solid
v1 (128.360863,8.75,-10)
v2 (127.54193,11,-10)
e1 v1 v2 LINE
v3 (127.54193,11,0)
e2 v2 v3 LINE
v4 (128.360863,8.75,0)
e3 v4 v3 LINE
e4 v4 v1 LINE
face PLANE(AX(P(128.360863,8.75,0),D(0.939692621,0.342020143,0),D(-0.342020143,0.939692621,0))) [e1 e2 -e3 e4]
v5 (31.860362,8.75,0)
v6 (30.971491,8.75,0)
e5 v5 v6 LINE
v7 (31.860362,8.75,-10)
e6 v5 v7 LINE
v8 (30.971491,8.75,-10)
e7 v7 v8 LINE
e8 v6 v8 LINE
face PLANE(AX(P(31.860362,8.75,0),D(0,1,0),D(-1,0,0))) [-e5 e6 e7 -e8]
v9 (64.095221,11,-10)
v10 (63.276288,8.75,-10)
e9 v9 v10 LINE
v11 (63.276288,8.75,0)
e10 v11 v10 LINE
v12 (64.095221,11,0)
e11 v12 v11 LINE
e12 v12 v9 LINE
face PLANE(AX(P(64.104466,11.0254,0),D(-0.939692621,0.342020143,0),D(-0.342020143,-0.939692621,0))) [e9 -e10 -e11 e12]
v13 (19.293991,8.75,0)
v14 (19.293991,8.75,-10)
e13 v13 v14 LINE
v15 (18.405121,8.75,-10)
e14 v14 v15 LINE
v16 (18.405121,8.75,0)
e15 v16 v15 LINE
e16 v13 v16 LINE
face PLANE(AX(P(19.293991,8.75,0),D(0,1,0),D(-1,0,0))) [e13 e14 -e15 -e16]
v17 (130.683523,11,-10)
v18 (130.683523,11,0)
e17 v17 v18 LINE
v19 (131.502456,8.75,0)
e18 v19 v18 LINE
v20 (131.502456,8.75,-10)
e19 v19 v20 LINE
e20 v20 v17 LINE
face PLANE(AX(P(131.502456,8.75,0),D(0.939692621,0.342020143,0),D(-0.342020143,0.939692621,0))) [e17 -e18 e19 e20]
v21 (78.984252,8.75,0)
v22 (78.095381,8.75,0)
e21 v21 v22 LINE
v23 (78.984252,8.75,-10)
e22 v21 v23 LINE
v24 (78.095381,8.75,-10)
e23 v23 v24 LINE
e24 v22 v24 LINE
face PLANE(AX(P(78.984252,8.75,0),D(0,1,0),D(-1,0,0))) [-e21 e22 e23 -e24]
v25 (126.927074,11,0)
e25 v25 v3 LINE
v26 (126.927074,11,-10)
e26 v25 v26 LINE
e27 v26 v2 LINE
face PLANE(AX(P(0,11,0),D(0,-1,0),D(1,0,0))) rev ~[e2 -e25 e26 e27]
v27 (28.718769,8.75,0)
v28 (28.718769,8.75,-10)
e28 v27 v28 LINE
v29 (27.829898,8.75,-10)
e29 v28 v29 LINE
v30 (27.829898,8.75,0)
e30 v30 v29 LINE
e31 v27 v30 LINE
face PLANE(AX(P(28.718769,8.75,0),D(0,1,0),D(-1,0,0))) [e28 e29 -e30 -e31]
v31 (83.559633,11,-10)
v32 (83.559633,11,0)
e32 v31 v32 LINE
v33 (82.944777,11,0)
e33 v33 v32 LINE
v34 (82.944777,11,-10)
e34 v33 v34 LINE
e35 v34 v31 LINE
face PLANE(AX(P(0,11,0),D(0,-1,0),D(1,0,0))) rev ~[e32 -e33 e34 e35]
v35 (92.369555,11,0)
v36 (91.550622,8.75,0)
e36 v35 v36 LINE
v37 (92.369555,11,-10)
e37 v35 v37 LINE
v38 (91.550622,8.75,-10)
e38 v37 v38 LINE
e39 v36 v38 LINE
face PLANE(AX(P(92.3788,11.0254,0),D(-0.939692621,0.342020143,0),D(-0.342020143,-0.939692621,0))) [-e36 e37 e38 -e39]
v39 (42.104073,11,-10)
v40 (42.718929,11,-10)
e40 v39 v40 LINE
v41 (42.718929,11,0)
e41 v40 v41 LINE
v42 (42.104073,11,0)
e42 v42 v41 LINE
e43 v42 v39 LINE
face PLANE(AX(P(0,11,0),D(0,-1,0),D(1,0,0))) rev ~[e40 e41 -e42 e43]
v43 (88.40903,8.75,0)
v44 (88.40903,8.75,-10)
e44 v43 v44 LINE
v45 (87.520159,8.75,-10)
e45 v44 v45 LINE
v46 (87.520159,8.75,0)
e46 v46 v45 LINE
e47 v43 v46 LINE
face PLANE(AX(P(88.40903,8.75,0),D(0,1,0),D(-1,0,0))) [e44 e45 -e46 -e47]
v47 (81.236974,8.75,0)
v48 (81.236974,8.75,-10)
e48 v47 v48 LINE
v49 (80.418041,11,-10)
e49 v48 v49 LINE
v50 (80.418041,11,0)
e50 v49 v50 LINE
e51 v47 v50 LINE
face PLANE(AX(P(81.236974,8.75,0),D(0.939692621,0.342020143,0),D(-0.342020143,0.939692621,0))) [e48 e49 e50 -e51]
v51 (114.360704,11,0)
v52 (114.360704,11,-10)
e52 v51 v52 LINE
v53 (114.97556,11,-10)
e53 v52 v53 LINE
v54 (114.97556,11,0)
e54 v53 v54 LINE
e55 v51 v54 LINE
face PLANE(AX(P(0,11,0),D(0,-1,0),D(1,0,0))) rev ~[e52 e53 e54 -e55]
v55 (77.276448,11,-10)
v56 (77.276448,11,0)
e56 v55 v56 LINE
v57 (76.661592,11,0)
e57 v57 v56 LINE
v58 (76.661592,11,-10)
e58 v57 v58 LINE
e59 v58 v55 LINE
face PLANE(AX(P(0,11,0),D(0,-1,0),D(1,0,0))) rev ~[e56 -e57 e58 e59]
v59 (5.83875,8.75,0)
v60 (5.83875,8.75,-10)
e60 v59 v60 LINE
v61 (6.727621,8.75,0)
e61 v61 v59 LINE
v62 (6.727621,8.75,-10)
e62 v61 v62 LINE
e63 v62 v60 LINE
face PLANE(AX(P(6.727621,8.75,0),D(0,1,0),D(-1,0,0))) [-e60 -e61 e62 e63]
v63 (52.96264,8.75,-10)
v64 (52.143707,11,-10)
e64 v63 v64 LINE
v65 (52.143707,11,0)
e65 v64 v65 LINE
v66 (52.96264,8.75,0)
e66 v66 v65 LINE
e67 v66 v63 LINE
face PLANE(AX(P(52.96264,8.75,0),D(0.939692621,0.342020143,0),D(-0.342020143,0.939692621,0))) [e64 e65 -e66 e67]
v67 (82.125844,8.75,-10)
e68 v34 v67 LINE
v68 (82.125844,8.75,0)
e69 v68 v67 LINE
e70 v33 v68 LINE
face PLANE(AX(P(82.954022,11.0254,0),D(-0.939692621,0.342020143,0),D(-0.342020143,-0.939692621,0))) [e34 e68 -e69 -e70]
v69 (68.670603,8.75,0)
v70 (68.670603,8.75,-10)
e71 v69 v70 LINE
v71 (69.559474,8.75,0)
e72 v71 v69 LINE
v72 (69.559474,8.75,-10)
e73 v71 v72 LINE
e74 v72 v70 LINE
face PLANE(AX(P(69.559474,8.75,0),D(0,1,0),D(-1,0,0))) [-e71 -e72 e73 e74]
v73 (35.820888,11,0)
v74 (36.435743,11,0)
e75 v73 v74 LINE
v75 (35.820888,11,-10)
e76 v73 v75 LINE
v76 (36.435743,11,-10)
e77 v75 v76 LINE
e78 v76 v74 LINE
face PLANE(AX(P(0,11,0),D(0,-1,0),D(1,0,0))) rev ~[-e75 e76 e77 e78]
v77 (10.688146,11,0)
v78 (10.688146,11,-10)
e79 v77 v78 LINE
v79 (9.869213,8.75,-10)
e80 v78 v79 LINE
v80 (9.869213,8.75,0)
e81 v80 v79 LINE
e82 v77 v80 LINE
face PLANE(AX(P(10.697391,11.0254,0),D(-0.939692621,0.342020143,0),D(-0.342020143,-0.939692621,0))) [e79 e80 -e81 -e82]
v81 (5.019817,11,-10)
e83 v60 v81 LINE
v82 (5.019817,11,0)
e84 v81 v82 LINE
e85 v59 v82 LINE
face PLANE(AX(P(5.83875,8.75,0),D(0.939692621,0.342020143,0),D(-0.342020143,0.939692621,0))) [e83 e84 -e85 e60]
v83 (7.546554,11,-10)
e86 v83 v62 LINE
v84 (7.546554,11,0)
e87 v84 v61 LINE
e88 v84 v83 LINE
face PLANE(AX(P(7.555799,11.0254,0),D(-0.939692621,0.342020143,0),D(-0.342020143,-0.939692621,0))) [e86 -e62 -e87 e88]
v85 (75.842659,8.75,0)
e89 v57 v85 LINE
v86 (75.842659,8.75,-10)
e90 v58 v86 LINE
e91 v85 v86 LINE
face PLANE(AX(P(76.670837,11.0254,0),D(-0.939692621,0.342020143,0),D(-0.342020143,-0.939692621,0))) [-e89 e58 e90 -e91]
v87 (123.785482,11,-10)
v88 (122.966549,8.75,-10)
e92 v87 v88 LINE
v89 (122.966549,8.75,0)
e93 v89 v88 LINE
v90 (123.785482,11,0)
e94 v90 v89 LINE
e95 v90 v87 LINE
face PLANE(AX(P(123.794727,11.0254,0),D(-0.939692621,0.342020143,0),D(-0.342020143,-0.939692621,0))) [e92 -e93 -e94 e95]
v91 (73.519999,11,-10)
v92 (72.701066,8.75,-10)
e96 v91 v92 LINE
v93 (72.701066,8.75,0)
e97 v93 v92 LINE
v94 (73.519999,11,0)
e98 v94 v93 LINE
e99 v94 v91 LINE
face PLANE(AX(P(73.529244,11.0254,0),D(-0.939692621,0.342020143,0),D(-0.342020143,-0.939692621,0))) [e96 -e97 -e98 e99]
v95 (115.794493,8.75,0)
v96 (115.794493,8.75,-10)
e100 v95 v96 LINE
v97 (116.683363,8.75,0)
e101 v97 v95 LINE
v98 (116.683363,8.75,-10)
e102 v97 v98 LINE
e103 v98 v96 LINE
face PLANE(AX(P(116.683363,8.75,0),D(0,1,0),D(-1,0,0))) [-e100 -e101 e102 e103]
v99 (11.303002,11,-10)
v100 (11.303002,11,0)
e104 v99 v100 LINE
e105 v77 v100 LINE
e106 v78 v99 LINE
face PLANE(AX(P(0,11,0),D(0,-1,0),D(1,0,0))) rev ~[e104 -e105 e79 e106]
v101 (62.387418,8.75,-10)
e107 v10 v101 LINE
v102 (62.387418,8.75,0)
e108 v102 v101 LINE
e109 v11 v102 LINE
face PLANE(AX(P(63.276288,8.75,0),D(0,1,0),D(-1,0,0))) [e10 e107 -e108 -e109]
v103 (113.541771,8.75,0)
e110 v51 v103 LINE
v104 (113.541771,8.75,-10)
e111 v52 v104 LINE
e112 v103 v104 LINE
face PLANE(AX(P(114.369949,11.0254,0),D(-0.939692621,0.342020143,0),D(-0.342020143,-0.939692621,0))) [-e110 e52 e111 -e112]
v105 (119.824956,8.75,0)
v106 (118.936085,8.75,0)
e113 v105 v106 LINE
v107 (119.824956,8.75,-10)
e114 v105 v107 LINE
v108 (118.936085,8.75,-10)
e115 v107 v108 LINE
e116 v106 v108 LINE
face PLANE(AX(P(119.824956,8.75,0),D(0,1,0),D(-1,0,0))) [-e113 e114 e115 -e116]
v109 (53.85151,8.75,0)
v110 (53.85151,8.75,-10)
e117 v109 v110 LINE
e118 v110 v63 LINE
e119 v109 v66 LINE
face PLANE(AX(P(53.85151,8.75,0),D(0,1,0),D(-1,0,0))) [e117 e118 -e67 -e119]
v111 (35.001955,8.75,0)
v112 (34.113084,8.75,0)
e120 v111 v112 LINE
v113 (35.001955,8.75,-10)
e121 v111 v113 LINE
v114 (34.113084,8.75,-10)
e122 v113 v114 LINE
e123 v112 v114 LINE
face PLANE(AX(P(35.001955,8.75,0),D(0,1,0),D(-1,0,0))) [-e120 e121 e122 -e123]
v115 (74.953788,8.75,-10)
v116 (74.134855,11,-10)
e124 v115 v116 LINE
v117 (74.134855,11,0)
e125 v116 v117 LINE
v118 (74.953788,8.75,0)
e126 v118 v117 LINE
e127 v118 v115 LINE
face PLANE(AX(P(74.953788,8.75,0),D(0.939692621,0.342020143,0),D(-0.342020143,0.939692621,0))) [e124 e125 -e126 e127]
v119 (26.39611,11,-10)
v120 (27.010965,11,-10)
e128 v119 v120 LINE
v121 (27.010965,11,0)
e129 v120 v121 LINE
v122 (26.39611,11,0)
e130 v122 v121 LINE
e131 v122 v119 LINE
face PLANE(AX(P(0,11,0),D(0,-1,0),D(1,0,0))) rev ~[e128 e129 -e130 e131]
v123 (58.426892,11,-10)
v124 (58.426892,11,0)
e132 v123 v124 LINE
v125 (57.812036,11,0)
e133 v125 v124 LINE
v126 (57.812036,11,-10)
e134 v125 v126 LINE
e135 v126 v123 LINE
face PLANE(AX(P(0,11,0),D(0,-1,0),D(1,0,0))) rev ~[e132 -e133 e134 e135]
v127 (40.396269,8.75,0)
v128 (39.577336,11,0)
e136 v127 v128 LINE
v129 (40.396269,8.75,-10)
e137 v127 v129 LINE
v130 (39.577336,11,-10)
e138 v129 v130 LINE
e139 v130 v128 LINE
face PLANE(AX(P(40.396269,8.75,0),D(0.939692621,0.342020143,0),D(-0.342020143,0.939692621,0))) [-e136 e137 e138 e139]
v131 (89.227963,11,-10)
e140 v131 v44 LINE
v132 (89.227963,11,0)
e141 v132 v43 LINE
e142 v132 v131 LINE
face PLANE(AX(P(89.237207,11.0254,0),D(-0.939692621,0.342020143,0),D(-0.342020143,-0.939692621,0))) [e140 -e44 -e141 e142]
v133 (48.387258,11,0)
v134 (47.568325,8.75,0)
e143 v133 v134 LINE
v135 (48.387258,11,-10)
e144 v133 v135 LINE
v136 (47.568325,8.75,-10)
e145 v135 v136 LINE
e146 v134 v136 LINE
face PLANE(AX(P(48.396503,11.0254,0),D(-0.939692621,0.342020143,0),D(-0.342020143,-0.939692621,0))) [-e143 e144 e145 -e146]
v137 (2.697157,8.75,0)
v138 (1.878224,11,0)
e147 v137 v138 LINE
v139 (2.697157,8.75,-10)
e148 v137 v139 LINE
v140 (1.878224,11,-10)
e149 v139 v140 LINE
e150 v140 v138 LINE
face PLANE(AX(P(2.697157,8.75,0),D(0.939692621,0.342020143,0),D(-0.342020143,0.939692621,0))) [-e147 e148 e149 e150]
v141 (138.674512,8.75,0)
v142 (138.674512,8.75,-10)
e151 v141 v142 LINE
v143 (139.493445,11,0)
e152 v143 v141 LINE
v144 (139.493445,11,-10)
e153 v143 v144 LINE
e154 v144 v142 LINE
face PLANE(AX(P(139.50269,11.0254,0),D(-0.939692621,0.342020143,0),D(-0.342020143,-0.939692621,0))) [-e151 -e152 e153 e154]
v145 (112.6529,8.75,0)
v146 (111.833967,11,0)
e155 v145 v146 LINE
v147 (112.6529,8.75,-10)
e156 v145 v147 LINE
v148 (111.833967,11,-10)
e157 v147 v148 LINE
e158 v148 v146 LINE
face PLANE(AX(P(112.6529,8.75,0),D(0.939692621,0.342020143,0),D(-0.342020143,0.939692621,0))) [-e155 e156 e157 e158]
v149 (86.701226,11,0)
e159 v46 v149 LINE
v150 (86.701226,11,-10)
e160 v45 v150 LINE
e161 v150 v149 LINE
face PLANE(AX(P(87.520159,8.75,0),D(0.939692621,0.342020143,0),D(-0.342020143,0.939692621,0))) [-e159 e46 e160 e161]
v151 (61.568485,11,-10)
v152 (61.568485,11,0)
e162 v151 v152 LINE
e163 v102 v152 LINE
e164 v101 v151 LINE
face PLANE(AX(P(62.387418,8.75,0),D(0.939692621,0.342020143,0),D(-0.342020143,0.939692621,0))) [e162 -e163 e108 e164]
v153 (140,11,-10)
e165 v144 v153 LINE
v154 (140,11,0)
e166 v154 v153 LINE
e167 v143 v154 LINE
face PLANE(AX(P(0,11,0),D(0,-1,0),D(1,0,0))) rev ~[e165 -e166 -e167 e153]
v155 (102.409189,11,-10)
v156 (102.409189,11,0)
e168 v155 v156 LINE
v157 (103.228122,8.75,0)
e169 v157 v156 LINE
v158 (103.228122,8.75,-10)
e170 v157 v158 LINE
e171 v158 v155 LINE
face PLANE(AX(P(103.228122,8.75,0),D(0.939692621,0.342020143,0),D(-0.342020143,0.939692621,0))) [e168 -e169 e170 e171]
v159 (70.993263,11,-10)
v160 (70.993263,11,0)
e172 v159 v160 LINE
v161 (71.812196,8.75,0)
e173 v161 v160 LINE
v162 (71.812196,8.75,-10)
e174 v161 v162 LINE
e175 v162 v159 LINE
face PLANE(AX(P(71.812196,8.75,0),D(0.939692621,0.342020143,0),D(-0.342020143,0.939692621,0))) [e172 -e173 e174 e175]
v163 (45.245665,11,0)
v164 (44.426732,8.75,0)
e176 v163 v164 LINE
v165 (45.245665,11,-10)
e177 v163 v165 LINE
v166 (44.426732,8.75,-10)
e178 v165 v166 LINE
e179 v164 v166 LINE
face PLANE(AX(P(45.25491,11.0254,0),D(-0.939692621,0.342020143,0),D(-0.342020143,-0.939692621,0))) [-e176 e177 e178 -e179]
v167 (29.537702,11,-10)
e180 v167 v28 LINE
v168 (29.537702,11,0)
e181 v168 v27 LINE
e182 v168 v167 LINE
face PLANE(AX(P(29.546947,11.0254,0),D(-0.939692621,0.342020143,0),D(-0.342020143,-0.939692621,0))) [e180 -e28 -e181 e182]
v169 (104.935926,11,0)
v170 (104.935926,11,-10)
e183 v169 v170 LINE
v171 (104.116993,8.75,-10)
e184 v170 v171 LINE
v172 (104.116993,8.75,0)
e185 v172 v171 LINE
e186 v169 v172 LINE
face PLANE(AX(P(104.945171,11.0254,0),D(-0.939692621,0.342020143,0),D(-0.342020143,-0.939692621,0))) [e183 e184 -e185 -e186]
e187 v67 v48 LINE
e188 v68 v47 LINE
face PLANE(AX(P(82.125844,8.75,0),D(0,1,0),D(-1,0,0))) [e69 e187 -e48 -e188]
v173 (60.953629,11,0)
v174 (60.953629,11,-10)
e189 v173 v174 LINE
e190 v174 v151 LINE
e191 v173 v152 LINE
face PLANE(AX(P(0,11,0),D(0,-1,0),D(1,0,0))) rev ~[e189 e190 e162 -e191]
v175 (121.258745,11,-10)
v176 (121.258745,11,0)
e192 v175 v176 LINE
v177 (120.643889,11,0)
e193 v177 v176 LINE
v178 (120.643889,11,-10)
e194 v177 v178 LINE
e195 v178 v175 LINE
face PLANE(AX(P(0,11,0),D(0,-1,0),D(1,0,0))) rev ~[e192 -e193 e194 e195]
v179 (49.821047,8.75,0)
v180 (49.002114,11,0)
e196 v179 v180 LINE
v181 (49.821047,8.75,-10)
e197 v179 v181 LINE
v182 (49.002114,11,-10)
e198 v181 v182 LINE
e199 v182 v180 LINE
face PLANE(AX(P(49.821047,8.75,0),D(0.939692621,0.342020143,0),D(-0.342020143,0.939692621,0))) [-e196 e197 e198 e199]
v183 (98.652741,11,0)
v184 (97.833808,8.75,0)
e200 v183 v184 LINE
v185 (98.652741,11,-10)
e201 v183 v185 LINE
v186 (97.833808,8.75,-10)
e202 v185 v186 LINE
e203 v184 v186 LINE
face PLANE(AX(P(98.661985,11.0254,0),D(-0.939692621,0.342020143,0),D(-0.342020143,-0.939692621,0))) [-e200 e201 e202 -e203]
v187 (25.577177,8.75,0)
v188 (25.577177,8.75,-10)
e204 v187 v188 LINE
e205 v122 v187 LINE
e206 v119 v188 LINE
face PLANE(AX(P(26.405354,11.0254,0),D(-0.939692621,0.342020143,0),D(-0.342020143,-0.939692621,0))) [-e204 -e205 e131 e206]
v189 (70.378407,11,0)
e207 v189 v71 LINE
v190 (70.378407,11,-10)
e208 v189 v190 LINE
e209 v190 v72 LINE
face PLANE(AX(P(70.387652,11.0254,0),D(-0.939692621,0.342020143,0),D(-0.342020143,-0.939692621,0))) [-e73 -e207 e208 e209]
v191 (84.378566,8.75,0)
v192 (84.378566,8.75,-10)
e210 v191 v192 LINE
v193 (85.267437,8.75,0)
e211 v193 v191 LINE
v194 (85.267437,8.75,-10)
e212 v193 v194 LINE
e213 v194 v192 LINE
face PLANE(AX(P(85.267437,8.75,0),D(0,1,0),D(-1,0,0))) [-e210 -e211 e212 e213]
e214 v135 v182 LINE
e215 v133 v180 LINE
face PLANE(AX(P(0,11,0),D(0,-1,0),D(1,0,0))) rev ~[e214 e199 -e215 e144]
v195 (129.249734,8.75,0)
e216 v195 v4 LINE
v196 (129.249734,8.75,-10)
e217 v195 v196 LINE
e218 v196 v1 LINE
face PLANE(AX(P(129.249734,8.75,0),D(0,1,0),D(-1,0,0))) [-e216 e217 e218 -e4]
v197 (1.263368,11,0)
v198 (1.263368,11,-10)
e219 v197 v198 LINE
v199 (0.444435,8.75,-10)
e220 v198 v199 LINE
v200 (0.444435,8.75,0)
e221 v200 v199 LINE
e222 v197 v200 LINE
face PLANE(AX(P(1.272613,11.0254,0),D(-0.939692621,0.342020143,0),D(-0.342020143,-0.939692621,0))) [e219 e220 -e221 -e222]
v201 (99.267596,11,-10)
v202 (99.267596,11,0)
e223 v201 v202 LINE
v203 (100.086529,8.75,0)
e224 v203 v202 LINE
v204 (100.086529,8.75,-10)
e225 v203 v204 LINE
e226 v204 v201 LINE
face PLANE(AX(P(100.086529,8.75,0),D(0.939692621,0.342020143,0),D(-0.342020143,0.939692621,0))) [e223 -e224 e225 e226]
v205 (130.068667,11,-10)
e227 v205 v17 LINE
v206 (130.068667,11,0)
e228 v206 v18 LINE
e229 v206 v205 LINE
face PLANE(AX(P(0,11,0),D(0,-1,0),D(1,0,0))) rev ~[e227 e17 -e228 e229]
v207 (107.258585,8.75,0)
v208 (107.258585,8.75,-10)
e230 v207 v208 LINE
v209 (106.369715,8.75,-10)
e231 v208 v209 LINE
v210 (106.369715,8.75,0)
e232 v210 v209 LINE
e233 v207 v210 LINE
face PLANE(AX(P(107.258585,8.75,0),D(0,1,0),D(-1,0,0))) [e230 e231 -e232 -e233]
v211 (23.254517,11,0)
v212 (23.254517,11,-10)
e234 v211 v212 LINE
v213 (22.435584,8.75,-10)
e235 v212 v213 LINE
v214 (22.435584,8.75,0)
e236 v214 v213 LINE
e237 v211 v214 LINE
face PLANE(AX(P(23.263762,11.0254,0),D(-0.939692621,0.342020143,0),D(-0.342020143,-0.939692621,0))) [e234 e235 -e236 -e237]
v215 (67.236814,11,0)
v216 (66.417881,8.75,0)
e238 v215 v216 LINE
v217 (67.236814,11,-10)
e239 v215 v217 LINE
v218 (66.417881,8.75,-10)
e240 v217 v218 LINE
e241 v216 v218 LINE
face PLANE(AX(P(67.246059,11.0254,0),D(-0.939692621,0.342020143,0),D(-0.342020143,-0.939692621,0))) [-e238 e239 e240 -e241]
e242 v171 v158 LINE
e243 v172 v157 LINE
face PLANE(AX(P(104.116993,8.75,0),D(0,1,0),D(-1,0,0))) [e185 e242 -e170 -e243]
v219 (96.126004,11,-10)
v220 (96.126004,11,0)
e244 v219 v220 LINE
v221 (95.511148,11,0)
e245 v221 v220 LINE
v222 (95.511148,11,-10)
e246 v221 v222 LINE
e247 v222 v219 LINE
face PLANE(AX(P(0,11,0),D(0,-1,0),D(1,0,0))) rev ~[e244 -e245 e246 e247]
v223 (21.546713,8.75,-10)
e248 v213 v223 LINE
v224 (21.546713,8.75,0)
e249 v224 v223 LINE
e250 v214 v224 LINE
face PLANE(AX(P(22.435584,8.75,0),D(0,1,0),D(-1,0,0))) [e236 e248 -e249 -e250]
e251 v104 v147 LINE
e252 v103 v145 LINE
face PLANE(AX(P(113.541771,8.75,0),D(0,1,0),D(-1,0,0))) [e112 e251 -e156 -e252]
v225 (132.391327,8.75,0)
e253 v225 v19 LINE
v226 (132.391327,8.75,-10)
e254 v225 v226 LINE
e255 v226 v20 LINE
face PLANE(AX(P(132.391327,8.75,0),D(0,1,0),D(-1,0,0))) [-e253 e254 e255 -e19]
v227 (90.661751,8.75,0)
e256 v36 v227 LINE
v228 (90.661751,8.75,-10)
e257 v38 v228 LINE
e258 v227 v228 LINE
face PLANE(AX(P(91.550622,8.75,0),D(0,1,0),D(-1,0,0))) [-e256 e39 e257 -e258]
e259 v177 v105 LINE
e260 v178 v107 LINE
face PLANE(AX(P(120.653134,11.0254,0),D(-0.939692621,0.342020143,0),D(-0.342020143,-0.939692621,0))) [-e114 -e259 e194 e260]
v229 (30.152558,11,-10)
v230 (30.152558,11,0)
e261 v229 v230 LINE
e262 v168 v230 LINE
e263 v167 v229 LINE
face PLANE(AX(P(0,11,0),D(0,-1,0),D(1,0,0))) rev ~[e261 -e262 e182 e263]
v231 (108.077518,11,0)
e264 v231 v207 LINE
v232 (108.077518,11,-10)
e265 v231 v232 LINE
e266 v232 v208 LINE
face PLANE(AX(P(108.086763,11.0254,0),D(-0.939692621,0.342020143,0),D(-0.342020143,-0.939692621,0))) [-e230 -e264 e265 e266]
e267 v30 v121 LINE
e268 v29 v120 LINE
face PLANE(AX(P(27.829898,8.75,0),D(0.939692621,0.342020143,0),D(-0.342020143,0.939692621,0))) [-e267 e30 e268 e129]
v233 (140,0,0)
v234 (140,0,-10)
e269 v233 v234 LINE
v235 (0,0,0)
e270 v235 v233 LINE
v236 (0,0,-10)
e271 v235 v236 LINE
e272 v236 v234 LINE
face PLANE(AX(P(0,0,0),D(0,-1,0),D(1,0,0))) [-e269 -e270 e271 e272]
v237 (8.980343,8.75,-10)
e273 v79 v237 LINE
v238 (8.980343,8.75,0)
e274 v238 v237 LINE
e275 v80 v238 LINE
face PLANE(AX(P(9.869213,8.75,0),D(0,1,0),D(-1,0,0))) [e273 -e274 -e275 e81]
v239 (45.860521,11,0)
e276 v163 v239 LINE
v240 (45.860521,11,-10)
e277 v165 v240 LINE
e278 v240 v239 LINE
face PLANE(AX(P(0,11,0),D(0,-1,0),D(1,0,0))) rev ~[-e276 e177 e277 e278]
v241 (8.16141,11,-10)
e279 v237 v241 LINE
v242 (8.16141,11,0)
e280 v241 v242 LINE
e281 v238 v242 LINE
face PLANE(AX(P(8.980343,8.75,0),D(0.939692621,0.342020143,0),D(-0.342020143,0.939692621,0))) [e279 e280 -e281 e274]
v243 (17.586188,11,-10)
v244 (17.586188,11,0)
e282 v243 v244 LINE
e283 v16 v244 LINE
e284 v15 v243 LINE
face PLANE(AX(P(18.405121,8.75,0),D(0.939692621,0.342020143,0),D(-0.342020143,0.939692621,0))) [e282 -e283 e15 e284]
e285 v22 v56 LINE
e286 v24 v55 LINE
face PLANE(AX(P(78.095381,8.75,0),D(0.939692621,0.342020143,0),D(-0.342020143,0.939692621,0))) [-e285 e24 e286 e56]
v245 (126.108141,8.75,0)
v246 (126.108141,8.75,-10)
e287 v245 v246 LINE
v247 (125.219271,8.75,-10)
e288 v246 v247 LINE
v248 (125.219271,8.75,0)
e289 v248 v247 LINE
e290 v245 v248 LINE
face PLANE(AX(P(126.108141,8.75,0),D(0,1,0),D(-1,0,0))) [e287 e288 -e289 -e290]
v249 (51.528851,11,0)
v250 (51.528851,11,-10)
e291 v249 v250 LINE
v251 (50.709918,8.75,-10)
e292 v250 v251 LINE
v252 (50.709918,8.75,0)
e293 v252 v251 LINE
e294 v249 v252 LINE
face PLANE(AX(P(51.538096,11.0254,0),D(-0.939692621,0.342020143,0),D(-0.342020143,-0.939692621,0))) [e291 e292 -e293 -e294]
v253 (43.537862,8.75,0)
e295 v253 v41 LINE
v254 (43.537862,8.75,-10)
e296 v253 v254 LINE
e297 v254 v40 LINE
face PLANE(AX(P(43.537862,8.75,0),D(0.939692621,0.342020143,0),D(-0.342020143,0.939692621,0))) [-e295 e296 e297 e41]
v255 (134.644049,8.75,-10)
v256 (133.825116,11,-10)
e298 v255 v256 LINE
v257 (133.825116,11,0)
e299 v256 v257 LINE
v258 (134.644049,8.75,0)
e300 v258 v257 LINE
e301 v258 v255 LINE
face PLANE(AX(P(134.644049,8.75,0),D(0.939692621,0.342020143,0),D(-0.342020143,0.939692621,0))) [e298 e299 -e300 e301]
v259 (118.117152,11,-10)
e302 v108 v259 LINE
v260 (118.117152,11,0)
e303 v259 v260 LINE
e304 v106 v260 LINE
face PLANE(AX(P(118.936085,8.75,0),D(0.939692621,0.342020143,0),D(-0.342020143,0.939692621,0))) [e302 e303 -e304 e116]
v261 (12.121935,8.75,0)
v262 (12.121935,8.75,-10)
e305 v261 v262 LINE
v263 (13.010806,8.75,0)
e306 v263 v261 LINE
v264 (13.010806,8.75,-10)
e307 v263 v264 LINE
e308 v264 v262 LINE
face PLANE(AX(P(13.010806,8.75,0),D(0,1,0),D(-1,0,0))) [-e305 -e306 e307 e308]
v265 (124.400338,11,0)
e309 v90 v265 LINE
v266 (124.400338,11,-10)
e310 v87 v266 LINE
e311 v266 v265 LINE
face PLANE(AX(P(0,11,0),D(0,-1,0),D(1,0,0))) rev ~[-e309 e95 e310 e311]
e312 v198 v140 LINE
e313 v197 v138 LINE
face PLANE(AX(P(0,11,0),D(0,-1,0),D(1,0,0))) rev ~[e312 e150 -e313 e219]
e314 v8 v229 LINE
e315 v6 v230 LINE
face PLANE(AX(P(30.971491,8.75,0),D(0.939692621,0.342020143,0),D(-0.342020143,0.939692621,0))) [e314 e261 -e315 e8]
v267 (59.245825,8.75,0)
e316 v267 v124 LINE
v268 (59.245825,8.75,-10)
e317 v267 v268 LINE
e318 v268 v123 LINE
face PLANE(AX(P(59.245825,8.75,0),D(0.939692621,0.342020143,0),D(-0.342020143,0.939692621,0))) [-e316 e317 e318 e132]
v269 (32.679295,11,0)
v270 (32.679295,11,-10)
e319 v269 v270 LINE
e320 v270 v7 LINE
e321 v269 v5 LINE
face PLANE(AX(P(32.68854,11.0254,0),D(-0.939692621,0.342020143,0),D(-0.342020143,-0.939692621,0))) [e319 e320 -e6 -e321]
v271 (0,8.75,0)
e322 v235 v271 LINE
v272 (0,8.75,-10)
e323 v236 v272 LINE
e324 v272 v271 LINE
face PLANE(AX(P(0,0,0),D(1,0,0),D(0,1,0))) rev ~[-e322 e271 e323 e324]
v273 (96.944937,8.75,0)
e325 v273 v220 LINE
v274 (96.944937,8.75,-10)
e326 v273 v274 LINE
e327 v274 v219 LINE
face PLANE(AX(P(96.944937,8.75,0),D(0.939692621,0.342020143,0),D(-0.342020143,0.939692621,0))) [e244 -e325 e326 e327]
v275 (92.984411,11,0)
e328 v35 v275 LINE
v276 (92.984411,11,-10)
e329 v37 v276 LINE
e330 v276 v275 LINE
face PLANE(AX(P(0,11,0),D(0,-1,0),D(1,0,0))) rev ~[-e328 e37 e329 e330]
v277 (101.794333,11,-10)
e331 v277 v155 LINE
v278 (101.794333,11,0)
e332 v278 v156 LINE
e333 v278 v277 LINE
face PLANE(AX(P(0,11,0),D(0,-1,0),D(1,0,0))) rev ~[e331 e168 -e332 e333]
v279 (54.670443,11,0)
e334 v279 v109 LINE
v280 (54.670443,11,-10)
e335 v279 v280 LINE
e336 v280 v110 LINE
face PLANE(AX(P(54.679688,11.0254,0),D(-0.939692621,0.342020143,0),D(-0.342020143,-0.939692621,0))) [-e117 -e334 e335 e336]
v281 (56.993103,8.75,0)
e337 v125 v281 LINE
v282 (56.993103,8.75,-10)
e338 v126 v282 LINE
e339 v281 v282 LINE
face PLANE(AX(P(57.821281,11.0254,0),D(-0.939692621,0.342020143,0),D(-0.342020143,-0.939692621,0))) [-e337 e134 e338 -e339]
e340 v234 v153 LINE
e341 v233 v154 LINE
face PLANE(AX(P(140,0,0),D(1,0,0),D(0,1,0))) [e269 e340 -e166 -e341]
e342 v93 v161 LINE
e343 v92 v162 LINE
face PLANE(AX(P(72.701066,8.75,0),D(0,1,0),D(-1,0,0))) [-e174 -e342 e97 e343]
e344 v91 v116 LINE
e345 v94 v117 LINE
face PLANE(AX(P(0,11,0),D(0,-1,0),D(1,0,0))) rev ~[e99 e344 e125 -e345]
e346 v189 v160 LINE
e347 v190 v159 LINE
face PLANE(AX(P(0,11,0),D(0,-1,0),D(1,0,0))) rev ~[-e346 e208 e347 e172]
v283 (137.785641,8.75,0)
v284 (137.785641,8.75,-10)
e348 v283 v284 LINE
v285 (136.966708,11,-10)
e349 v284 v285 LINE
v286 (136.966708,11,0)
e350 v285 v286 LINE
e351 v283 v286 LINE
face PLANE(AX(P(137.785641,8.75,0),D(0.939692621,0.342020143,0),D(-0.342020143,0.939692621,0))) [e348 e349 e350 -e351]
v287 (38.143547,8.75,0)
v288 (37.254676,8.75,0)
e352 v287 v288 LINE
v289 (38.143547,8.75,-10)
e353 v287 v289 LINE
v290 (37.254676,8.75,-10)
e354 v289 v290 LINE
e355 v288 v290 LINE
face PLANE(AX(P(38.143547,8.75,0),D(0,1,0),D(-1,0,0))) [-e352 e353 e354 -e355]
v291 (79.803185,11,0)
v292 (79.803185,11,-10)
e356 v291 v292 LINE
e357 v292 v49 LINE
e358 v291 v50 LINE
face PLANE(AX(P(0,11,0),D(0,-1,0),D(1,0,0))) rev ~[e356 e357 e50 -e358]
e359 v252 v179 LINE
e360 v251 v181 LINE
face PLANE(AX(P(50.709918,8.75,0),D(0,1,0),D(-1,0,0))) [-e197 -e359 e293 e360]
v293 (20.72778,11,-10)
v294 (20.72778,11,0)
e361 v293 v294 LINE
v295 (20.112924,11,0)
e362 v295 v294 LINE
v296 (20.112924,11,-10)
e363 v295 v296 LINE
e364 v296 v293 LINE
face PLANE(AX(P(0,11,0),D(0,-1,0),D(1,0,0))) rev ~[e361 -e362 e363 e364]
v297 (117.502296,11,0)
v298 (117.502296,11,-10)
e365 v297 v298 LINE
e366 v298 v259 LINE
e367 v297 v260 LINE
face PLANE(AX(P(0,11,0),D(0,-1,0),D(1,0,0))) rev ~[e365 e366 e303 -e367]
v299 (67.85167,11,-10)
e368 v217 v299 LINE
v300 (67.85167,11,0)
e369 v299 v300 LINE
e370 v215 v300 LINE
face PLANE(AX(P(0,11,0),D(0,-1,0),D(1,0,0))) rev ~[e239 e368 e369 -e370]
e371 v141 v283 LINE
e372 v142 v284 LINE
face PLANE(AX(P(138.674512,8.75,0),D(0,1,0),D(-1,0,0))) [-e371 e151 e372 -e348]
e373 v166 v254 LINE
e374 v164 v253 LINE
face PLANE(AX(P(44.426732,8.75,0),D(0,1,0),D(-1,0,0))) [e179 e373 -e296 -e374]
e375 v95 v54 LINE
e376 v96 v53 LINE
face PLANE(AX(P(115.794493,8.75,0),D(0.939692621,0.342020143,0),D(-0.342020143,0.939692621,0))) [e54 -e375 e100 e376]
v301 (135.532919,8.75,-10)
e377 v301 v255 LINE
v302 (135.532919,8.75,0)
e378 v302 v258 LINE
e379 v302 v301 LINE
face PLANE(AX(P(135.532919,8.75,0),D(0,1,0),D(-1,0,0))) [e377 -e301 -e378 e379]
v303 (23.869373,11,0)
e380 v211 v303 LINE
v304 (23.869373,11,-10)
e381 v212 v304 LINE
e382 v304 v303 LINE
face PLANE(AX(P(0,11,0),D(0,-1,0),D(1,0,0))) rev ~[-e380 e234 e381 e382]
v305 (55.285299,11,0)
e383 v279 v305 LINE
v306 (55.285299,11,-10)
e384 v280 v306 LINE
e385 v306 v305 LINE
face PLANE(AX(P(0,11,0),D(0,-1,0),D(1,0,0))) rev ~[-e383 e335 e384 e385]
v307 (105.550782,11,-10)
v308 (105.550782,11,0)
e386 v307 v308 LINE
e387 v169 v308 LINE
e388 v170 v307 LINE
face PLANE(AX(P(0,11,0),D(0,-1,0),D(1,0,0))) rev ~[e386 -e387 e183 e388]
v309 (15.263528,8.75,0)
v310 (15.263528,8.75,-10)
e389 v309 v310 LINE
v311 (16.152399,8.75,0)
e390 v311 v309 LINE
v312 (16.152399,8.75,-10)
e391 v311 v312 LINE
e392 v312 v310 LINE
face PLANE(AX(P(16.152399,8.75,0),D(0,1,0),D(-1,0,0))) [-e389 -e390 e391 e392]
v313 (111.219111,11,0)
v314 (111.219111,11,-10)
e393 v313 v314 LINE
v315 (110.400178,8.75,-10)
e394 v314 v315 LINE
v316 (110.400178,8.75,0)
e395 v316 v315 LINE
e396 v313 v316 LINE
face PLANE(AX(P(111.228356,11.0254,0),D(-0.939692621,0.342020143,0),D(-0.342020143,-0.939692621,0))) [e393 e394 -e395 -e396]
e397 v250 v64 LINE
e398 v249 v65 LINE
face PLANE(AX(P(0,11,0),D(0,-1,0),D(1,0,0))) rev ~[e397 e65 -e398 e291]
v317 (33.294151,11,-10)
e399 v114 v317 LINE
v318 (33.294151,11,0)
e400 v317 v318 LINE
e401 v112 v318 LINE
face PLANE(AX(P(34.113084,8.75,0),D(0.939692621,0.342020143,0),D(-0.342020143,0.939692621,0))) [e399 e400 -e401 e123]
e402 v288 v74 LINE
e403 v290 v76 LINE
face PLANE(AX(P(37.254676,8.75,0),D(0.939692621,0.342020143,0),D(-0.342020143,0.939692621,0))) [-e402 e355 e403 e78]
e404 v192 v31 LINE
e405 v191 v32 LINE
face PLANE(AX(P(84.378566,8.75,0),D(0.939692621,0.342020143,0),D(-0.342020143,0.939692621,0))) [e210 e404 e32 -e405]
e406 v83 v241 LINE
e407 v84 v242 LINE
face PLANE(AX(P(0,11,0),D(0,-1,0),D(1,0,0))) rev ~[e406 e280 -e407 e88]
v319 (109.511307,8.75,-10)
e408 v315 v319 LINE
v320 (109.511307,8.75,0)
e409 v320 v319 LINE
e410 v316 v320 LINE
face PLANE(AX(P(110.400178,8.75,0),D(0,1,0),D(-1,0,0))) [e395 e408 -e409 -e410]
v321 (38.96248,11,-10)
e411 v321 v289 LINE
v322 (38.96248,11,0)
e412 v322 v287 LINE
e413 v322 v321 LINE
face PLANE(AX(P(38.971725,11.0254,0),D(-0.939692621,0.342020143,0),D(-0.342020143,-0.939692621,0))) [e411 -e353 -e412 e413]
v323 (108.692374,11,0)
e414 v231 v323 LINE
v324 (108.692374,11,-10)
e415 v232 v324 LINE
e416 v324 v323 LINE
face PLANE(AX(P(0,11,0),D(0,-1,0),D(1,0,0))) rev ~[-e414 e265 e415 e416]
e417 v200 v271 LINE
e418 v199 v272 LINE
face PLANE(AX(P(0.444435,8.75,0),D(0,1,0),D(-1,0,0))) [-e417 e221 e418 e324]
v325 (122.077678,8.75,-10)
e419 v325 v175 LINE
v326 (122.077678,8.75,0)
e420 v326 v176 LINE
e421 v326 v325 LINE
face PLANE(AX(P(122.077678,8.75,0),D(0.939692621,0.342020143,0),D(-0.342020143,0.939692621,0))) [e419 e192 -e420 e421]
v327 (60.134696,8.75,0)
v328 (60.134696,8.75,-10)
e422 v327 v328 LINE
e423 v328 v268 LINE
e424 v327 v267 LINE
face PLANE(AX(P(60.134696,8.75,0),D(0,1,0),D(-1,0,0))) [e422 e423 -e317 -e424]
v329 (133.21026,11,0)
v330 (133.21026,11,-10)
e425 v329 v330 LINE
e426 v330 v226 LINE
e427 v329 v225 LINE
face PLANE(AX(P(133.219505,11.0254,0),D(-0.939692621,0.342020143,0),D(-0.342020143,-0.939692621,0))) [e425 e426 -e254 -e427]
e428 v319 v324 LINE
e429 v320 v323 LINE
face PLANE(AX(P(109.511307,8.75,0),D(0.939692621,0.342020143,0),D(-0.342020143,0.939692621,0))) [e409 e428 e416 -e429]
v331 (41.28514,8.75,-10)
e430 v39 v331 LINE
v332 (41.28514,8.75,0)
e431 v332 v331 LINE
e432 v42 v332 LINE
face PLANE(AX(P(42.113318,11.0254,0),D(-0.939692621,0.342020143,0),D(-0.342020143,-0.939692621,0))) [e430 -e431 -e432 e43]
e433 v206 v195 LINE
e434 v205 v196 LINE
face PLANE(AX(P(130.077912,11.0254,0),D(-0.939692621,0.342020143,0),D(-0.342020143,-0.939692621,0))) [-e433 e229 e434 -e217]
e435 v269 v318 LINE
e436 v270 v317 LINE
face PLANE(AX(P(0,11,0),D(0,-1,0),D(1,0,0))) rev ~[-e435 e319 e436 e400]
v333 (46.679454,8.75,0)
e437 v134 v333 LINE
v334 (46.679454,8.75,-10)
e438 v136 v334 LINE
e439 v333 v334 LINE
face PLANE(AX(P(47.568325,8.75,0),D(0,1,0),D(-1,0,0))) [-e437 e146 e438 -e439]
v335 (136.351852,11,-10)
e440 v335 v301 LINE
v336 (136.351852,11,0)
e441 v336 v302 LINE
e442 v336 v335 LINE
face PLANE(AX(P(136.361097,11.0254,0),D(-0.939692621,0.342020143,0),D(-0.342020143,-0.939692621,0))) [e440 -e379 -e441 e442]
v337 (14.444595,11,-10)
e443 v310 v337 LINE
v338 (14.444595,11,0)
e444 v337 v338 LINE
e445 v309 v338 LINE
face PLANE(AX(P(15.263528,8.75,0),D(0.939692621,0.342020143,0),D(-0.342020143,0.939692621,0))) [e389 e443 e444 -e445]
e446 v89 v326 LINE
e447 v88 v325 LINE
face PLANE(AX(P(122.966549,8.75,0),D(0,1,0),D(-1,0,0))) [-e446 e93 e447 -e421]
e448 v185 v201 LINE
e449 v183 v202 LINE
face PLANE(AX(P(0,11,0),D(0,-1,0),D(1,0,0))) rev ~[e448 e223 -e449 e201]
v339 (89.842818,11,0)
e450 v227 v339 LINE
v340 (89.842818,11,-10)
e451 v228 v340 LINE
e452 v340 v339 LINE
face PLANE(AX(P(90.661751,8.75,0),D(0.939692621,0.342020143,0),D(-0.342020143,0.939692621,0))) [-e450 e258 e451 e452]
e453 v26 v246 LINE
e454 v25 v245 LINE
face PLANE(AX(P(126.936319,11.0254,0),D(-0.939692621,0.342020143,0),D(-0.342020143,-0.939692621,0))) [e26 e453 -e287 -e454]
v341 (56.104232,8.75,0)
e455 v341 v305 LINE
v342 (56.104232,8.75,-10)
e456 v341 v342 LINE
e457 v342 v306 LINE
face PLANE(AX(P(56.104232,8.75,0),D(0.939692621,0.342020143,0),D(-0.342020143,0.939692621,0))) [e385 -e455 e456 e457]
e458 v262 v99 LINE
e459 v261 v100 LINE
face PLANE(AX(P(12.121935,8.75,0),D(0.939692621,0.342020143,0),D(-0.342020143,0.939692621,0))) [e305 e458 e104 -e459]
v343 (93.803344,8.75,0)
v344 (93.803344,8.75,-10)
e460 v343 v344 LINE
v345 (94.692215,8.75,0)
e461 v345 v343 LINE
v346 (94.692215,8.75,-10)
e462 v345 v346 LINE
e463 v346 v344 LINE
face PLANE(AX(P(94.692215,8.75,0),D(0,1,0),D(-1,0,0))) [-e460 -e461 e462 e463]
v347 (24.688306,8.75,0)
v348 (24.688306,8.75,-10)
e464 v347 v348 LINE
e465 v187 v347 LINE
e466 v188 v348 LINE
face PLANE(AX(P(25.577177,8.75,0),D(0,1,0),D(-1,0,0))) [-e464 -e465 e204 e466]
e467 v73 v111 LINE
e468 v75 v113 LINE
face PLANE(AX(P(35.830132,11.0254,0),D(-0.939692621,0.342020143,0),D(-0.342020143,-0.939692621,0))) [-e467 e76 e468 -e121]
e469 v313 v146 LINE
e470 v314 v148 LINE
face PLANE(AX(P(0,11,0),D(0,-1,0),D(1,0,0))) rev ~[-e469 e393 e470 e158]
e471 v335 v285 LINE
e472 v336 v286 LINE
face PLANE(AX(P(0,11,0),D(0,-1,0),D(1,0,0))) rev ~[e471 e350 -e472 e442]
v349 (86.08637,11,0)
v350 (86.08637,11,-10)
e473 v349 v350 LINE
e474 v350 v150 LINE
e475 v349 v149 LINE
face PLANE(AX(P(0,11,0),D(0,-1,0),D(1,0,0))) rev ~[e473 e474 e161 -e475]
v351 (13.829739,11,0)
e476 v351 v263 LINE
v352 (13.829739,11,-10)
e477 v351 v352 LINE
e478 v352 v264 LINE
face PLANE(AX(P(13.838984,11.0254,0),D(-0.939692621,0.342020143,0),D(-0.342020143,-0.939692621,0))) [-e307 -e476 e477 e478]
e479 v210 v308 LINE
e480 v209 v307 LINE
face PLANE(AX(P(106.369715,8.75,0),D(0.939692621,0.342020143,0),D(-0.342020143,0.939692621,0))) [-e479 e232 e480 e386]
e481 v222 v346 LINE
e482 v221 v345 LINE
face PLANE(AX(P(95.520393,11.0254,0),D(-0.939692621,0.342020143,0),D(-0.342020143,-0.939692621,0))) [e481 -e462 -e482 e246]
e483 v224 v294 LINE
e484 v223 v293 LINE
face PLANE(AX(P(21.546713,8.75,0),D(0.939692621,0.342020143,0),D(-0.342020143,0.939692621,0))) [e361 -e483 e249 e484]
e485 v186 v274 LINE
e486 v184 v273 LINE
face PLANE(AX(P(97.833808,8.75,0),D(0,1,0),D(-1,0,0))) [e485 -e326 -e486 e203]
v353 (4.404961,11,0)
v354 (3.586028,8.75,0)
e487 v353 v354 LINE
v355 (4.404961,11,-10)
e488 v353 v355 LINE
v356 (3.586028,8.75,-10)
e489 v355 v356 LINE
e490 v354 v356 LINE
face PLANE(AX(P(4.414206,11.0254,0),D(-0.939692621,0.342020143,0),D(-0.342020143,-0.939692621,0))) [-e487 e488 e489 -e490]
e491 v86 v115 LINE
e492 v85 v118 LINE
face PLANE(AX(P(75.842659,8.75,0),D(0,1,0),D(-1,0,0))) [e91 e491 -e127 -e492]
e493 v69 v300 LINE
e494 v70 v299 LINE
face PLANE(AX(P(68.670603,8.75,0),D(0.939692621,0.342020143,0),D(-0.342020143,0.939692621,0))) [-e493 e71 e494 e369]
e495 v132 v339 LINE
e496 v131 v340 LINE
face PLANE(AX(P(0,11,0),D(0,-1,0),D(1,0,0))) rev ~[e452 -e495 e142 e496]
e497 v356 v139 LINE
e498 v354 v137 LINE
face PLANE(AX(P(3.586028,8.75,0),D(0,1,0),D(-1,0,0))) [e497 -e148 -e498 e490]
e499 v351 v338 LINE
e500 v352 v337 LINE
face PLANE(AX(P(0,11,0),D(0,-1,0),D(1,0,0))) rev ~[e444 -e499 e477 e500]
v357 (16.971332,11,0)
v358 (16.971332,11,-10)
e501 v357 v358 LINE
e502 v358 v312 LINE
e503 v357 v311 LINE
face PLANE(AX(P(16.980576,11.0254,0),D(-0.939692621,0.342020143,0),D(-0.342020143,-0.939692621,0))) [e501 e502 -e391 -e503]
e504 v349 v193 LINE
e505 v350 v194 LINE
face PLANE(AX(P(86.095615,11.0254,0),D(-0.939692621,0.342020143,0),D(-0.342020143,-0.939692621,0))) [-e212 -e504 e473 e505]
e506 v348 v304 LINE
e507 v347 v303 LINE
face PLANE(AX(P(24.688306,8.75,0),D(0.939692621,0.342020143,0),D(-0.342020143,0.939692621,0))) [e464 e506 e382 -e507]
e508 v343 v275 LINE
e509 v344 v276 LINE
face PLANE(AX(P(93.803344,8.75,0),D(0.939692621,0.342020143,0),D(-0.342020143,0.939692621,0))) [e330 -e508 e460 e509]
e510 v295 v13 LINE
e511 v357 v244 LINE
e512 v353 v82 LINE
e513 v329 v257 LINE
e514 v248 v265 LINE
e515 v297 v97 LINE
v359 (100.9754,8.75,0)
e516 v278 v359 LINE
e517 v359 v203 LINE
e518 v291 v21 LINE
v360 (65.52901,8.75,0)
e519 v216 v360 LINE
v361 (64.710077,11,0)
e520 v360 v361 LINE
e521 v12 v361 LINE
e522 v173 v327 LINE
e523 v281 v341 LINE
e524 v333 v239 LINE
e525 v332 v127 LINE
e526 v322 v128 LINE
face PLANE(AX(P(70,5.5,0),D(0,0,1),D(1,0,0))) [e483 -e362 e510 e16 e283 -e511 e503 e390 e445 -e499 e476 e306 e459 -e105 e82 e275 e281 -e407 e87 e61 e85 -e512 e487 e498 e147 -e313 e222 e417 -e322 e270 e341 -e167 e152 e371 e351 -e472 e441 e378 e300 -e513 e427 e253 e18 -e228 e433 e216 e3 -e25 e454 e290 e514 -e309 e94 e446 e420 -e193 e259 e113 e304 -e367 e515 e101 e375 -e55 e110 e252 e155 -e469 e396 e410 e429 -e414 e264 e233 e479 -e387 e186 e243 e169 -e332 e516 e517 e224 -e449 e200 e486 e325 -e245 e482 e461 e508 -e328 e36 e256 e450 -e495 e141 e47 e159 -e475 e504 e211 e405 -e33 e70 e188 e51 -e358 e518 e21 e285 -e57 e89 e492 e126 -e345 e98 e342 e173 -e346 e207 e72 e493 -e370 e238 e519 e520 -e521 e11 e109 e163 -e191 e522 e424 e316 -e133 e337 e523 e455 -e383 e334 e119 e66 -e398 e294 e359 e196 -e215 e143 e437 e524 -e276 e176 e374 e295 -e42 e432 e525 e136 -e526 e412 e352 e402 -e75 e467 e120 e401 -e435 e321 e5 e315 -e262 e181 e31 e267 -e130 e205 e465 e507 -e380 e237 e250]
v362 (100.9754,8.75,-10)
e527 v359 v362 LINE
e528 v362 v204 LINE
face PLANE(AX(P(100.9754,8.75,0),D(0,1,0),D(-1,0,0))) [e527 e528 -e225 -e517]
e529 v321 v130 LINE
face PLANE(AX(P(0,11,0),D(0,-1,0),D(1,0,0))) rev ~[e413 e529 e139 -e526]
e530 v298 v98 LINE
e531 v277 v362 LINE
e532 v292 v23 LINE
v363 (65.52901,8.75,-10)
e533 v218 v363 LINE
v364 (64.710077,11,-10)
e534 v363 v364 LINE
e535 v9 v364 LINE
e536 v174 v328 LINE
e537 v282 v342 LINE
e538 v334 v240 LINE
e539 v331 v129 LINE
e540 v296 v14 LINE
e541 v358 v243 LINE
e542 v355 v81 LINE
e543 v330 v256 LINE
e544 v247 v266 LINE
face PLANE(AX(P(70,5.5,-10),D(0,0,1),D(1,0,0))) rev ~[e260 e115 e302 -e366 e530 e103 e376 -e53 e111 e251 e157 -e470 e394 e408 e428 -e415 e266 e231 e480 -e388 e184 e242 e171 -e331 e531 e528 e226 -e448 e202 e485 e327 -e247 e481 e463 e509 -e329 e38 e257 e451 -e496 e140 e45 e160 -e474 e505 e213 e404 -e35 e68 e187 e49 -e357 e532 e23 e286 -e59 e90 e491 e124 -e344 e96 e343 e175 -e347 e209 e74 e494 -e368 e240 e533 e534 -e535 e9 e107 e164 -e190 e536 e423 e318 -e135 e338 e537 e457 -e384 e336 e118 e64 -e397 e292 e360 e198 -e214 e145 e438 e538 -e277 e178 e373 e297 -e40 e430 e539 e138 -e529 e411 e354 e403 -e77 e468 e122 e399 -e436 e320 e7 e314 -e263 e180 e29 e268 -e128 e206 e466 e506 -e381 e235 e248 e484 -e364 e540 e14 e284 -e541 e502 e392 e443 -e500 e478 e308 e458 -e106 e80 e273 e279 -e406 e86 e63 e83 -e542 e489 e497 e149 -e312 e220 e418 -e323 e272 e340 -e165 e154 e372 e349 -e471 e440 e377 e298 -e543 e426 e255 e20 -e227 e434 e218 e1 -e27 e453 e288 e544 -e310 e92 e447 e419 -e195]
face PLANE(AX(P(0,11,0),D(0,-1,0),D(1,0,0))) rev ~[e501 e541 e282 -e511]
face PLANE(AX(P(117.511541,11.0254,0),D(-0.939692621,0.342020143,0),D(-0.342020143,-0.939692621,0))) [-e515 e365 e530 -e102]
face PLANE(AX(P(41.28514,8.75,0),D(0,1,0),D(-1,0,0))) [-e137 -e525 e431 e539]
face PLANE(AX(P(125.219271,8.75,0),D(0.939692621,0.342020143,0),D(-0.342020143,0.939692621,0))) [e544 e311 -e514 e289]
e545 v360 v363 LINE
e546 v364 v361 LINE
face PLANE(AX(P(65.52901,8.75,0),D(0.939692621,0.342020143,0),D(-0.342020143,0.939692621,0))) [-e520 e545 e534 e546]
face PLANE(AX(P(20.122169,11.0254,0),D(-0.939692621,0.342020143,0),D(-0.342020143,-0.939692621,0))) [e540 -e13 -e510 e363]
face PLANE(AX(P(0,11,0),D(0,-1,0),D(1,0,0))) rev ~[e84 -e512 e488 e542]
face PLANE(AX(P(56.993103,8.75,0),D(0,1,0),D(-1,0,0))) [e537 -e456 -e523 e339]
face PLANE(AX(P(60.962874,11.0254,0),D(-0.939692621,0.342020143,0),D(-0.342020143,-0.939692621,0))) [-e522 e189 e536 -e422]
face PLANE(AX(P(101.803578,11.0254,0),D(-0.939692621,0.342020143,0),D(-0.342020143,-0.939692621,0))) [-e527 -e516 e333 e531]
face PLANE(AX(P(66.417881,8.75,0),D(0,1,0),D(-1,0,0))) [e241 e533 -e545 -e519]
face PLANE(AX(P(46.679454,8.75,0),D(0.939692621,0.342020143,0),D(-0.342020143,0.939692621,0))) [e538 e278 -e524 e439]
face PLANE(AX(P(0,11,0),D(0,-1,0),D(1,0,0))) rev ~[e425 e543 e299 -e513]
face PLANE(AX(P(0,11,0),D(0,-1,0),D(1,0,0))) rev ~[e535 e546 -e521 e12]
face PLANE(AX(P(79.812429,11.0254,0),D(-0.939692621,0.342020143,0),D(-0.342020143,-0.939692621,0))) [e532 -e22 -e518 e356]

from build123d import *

# Parameters (mm, degrees)
BLANKSKE_W        = 140
BLANKSKE_H        = 11
BLANK_DEPTH       = 10
TOOTHCUTSIM_DEPTH = 141.78707327
TEETHCUTS_COUNT   = 46
TEETHCUTS_PITCH   = 3.14159265


with BuildPart() as part:
    # BlankSke → Blank (new body)
    with BuildSketch(Plane.XY):
        with Locations((70, 5.5)):
            Rectangle(BLANKSKE_W, BLANKSKE_H)
    extrude(amount=-BLANK_DEPTH)

    # TooCutSkeSim → ToothCutSim (cut, through all)
    with BuildSketch(Plane.XY):
        Polygon((0.44443537, 8.75), (-0.44443537, 8.75), (-1.272613241, 11.0254), (1.272613241, 11.0254), align=None)
    toothcutsim = extrude(amount=-TOOTHCUTSIM_DEPTH, mode=Mode.SUBTRACT)

    # TeethCuts: ToothCutSim ×46
    with Locations(*[(i * TEETHCUTS_PITCH, 0, 0) for i in range(1, TEETHCUTS_COUNT)]):
        add(toothcutsim, mode=Mode.SUBTRACT)


solid = part.part
